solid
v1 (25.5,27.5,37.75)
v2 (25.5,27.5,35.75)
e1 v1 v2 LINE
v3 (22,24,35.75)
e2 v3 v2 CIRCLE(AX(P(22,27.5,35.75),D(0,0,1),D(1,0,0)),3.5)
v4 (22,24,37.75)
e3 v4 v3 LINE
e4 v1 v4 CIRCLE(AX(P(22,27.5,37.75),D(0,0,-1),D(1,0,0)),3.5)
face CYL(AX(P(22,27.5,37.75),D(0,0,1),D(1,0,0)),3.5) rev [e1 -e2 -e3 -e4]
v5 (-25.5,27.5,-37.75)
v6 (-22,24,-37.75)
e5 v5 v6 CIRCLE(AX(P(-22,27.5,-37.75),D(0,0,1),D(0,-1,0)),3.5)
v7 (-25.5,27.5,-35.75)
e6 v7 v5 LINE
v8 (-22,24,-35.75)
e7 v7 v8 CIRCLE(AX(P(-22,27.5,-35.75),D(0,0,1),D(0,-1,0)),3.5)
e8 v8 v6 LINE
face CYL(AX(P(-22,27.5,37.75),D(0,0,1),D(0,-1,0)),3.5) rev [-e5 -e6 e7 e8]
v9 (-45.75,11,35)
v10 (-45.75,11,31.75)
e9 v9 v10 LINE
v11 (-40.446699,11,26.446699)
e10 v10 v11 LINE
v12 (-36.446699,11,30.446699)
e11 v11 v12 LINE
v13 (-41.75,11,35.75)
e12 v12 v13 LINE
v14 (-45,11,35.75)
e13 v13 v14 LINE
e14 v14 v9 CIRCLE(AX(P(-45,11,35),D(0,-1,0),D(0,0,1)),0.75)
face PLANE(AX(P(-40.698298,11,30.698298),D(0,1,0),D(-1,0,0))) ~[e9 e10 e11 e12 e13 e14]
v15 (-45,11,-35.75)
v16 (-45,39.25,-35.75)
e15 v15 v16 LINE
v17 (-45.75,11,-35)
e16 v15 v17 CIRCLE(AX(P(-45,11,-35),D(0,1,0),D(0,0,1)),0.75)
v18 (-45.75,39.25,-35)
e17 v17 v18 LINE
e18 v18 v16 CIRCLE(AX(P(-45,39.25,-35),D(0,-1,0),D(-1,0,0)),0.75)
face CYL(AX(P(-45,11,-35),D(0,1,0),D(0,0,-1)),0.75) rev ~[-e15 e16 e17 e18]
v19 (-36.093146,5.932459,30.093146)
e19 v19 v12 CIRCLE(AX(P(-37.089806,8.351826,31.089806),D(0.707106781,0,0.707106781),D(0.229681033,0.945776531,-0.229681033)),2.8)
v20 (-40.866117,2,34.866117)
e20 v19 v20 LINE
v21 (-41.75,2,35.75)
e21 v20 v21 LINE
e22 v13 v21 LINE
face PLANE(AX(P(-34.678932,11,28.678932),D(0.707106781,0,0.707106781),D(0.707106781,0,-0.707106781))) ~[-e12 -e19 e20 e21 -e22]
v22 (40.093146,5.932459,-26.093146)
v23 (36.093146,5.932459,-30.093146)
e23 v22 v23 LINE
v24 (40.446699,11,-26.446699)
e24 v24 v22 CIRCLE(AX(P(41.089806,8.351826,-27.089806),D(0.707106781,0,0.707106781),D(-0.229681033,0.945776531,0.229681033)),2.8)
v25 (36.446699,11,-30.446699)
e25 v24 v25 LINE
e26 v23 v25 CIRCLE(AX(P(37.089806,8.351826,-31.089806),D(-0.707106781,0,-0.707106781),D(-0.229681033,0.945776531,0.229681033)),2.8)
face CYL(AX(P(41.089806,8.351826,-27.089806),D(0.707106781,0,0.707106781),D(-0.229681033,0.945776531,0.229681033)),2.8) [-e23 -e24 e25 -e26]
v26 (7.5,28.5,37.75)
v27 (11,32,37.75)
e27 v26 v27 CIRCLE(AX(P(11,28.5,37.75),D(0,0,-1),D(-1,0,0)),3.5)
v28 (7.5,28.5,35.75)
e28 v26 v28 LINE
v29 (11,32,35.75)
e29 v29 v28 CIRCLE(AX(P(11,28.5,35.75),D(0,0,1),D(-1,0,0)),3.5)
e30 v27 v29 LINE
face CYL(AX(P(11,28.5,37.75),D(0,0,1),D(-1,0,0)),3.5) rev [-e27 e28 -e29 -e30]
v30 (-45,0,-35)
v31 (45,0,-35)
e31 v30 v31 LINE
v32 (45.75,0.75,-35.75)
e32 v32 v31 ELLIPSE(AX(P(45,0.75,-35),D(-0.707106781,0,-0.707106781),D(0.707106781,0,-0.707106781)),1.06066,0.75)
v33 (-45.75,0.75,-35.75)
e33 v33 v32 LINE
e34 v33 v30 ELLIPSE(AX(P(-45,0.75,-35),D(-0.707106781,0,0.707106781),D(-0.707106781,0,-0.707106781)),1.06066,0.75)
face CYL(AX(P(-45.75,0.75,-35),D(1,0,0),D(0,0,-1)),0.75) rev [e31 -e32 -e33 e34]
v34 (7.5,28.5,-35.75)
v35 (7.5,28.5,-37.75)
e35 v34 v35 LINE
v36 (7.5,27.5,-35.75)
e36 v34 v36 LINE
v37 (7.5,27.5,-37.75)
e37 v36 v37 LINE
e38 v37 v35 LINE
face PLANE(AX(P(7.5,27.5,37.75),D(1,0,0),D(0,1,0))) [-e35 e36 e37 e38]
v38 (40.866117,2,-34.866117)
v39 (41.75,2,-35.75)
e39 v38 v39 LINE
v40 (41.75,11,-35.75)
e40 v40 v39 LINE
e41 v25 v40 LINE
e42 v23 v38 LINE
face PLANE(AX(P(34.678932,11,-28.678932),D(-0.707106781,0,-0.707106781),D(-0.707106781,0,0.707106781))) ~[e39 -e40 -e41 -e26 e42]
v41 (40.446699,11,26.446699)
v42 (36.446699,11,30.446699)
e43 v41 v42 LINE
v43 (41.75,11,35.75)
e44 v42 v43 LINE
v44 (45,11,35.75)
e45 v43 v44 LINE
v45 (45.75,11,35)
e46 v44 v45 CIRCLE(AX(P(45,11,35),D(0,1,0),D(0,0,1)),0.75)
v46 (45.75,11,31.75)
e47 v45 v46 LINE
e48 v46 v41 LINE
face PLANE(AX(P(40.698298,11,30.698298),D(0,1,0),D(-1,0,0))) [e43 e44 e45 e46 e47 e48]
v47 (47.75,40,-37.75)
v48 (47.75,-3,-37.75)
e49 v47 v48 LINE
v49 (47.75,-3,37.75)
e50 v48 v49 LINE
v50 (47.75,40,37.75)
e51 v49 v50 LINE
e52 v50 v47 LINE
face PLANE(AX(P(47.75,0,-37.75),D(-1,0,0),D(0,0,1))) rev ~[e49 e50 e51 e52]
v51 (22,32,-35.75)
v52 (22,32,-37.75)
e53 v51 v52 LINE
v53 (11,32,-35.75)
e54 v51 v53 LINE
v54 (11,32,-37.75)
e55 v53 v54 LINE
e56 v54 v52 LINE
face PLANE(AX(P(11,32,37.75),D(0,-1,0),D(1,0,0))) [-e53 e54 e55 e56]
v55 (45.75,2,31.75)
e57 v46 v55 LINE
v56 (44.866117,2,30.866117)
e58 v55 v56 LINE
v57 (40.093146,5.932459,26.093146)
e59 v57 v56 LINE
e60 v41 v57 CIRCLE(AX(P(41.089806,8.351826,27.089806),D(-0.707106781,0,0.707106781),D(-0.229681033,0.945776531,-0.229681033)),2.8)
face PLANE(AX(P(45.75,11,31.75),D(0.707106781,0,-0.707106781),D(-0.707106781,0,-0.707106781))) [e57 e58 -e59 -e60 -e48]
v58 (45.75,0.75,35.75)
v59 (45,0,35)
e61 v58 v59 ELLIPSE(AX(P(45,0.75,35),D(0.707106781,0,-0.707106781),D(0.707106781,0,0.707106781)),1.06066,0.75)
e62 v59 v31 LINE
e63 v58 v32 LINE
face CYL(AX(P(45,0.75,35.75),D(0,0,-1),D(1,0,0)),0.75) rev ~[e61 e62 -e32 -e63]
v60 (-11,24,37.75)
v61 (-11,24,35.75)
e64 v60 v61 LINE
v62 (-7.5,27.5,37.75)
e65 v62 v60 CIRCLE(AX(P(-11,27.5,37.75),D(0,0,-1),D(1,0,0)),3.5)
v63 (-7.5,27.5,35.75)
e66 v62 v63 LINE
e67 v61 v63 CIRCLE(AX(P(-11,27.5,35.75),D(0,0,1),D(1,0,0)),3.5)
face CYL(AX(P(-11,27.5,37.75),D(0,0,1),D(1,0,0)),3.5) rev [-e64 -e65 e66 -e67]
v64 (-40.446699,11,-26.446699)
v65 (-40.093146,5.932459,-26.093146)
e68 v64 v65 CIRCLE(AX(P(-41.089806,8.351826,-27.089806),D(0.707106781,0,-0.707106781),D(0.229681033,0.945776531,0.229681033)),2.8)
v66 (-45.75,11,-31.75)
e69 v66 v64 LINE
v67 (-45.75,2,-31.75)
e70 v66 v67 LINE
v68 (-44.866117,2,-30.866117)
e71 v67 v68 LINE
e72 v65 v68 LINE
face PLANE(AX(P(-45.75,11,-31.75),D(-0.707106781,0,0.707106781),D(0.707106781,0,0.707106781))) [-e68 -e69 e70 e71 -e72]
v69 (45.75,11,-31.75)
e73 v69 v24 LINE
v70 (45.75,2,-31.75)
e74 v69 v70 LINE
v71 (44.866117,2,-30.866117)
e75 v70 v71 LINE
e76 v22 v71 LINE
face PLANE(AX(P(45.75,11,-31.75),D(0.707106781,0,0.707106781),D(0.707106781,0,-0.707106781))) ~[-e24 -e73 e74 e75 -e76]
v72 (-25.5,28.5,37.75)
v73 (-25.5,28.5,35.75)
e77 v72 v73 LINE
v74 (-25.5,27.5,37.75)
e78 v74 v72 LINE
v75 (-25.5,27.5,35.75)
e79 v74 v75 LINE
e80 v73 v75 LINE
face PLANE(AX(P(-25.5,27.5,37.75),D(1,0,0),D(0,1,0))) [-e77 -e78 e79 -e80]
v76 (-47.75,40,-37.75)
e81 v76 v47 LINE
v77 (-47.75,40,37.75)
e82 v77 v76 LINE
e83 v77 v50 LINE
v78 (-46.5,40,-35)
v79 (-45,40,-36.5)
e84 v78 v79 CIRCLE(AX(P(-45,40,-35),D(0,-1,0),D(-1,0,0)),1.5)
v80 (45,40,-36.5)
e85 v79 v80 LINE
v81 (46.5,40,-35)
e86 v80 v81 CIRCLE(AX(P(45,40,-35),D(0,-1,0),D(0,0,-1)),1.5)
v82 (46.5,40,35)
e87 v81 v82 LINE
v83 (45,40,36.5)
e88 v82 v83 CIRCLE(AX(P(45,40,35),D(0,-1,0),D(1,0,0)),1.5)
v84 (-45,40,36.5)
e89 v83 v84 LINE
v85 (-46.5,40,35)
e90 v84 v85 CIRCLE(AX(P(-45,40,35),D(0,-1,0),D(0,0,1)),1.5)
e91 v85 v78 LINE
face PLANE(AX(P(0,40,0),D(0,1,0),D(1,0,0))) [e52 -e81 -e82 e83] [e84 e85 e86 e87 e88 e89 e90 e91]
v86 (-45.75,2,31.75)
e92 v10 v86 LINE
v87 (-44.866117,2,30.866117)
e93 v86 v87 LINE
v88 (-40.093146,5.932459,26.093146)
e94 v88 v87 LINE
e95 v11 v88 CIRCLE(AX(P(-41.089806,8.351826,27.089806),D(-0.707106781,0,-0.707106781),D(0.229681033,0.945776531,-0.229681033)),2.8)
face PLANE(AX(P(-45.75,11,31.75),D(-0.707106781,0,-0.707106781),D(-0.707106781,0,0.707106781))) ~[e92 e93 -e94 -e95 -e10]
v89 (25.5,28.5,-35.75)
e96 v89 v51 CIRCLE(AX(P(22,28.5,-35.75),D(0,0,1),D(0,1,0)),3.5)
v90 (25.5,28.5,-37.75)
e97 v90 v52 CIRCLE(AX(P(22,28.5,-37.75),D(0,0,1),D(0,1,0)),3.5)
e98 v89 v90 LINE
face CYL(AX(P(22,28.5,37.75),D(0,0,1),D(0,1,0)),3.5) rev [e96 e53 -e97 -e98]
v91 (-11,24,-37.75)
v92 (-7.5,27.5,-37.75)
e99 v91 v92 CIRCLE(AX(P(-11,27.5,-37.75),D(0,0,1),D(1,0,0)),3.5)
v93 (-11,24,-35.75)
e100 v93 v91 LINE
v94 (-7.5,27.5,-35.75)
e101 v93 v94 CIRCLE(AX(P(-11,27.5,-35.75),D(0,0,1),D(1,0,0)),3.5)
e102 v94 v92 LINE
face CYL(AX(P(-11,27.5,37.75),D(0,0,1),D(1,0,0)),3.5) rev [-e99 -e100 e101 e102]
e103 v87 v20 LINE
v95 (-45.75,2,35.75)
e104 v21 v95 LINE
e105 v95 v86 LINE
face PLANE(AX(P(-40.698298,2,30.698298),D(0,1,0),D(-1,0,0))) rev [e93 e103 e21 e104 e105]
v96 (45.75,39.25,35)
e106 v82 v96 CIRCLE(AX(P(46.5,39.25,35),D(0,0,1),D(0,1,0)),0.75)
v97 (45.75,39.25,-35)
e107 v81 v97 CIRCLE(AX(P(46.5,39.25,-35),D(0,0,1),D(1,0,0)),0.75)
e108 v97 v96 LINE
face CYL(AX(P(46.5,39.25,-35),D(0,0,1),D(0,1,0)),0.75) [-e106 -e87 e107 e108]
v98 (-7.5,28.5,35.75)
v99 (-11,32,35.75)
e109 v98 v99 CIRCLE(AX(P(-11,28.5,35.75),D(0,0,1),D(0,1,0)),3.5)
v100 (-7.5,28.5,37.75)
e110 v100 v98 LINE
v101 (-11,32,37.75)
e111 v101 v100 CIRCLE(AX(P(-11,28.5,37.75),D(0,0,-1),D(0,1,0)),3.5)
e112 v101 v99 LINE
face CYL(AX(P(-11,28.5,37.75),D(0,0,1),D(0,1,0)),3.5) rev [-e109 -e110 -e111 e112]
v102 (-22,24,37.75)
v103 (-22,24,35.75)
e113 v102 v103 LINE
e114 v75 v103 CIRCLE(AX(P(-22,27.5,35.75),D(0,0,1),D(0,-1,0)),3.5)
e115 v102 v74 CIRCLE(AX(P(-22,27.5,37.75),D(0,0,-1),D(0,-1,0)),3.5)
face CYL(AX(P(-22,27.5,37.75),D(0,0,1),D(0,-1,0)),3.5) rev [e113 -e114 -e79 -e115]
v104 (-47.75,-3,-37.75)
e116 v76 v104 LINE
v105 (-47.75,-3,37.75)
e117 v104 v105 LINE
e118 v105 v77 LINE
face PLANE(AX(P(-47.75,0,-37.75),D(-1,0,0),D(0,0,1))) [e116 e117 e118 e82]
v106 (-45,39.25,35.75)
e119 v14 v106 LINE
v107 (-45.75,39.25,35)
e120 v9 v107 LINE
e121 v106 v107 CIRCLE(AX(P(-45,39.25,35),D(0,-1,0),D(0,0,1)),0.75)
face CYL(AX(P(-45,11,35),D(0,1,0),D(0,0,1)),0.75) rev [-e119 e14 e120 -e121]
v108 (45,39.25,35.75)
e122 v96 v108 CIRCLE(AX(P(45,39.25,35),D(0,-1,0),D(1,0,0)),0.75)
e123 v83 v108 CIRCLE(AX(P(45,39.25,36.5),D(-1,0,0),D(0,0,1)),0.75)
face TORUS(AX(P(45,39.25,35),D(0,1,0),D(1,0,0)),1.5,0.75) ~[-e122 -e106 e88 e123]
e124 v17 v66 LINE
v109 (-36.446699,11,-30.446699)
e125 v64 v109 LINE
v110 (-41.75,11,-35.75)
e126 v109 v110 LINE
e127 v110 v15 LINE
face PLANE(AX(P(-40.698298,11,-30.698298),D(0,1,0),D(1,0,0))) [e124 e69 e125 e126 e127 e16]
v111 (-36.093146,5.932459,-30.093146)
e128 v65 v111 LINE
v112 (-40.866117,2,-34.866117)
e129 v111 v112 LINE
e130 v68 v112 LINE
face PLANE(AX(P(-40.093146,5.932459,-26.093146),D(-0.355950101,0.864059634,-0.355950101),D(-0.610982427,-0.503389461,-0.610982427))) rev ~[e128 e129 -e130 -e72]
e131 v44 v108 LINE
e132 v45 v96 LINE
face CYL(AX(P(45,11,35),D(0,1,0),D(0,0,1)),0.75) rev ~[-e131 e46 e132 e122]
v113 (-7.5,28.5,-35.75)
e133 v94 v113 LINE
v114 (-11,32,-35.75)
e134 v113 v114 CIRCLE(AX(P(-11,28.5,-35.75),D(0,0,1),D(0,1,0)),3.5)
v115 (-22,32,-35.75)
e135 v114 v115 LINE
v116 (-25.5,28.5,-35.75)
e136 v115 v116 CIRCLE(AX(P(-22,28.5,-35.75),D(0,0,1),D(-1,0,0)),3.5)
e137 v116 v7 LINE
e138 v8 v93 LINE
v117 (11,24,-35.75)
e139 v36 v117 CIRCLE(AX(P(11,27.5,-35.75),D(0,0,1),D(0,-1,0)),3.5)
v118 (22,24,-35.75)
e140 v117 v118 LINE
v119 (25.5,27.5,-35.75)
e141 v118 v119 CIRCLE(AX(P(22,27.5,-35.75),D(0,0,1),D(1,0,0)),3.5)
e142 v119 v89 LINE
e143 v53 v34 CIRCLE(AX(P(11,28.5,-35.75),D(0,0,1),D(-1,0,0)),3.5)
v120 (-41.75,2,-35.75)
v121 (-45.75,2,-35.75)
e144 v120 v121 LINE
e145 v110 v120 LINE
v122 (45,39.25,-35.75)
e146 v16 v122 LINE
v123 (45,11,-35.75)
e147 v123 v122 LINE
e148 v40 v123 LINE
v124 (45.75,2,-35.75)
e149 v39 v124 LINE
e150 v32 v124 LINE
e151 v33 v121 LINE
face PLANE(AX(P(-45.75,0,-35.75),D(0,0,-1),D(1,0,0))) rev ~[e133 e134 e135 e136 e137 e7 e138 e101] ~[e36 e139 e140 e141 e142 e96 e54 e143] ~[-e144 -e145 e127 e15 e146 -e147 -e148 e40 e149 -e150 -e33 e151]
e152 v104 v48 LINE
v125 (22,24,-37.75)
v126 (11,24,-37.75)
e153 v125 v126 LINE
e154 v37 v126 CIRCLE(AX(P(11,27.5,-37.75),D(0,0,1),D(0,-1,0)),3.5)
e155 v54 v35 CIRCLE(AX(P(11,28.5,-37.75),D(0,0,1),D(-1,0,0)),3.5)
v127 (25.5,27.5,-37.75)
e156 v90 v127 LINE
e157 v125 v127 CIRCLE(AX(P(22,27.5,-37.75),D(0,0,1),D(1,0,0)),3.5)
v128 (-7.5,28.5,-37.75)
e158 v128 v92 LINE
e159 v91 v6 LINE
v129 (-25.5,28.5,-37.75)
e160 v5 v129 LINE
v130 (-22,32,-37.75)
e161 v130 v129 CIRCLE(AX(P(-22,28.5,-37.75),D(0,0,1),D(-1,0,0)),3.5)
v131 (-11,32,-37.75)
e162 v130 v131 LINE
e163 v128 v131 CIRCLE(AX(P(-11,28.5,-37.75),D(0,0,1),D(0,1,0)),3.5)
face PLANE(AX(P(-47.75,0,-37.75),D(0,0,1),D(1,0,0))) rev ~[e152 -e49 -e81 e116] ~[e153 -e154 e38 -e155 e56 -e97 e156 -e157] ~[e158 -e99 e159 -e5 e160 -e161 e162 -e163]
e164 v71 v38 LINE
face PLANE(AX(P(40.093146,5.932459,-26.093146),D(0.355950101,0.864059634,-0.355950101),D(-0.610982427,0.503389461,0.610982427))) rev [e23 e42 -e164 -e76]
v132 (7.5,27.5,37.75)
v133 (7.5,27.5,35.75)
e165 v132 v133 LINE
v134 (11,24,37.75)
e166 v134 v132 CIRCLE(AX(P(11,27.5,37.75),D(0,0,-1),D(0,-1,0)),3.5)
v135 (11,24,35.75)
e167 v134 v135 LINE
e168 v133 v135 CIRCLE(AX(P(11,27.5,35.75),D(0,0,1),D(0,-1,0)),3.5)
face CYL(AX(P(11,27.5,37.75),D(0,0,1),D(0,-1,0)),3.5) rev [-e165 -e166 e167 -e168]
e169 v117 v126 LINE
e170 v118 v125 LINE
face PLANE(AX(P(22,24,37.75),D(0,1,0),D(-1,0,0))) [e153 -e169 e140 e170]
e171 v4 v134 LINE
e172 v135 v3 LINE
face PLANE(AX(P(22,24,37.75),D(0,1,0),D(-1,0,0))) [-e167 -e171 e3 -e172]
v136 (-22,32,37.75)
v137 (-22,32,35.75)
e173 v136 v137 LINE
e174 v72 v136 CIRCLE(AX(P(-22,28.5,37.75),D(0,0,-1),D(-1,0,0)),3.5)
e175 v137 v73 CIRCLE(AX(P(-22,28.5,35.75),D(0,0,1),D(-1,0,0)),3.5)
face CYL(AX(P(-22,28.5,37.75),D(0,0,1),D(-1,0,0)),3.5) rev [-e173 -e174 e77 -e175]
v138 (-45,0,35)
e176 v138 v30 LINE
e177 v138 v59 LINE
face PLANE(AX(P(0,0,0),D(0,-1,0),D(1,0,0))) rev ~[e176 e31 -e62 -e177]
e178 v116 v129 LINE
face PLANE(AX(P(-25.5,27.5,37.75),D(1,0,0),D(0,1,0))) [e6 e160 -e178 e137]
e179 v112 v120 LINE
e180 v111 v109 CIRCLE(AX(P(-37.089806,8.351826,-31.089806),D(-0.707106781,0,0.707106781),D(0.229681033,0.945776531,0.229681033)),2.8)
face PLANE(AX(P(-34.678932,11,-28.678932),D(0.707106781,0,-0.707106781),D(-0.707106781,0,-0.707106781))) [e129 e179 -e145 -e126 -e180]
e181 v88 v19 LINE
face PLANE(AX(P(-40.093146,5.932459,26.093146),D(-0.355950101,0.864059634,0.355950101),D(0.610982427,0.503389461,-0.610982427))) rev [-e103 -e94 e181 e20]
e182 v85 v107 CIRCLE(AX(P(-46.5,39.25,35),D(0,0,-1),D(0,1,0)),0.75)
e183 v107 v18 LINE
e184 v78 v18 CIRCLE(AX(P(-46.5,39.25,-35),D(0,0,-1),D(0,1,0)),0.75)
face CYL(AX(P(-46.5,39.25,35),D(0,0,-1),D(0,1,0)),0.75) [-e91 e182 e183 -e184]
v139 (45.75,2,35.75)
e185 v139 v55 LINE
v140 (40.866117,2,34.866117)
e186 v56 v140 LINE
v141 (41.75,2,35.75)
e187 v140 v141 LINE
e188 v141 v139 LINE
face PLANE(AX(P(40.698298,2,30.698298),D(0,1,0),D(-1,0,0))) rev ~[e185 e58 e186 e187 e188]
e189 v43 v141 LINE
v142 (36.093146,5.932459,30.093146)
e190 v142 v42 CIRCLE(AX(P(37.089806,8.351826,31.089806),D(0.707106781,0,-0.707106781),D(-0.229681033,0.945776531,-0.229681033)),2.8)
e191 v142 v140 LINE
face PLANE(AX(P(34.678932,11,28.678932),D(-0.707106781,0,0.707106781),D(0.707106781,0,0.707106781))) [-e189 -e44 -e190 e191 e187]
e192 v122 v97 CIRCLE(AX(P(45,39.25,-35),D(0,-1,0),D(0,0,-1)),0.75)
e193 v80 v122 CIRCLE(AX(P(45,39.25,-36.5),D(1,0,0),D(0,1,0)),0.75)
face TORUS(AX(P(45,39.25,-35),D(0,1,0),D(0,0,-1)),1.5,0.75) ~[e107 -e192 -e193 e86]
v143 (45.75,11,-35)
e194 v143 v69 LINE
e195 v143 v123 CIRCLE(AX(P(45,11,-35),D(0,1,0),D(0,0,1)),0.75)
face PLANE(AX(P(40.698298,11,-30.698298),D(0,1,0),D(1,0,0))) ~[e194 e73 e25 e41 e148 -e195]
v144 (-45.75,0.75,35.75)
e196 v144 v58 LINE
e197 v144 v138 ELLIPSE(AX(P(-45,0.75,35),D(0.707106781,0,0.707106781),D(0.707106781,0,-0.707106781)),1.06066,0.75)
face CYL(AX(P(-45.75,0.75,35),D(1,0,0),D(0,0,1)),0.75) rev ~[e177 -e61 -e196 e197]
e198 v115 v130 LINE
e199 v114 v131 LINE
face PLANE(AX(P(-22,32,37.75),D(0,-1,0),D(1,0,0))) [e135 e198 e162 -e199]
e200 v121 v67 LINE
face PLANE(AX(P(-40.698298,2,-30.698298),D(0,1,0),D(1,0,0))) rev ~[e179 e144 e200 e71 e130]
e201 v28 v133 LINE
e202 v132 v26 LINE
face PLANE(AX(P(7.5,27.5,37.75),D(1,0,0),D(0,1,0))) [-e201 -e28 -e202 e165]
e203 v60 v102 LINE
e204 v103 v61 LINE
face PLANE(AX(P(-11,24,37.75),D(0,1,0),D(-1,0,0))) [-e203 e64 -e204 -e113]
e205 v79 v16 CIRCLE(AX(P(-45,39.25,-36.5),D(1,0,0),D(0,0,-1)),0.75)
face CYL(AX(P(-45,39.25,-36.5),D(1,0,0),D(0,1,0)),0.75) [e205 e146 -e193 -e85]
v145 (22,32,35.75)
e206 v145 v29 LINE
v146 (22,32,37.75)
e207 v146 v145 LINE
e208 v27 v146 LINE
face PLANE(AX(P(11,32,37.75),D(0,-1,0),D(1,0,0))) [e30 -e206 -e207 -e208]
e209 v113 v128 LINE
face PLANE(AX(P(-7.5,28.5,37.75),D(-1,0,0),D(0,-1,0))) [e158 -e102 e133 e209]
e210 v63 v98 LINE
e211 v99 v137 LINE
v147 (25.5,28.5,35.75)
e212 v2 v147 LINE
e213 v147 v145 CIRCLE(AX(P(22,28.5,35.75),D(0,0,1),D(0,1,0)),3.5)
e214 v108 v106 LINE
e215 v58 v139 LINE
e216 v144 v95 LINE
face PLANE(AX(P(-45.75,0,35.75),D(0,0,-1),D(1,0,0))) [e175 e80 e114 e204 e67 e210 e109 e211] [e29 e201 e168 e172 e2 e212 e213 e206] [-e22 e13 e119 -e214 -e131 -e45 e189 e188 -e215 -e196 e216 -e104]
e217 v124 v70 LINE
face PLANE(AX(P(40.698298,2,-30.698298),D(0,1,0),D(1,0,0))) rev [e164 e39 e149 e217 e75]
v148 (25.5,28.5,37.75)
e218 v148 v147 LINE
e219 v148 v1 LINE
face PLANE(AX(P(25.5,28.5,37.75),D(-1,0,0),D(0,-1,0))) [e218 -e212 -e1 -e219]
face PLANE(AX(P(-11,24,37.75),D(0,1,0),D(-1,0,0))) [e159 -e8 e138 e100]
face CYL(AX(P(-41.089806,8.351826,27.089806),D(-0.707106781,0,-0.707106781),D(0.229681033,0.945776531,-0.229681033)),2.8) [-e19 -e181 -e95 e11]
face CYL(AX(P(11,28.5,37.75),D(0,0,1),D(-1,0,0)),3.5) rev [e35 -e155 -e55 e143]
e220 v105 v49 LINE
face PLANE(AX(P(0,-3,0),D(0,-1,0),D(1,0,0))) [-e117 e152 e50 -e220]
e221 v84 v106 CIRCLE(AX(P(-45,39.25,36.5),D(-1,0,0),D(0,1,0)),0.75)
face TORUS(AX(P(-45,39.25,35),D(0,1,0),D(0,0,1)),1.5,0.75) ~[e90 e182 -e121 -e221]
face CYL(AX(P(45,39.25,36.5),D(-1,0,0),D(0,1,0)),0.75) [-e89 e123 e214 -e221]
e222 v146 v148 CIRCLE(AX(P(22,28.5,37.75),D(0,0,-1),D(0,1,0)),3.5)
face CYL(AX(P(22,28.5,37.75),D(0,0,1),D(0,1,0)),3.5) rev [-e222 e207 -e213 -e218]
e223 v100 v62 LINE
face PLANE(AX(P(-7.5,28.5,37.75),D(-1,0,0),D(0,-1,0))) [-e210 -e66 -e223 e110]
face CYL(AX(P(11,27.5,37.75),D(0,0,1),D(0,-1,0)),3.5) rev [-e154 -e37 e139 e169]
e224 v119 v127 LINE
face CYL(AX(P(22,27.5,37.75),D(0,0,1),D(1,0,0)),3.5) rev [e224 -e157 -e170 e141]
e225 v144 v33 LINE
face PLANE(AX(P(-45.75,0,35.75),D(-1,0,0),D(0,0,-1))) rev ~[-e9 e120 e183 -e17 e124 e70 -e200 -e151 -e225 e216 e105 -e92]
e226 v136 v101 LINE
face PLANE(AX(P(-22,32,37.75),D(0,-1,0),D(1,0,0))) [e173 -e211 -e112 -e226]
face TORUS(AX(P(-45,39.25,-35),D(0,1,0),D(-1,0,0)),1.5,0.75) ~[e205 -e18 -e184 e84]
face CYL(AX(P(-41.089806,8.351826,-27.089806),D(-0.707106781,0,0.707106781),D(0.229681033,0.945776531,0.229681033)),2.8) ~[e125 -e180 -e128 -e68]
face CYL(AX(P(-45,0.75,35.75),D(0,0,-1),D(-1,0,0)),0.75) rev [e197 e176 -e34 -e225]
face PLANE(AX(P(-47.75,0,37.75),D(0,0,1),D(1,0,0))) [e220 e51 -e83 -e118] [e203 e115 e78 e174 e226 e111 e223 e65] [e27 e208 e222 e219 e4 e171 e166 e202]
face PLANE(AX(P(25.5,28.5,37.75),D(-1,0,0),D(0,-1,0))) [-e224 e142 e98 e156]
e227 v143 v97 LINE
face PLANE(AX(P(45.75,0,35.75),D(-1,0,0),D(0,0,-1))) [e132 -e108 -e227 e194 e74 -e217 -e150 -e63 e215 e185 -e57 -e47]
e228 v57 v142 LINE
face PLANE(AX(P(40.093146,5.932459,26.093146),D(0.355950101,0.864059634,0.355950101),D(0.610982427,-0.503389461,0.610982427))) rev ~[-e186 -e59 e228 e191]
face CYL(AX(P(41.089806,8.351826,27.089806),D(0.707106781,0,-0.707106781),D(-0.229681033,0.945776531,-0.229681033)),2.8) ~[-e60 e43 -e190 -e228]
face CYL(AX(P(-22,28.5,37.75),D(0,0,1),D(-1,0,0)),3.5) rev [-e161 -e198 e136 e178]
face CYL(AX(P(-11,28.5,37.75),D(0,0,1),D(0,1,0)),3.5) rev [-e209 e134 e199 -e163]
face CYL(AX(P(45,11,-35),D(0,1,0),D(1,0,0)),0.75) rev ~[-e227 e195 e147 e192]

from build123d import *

# Parameters (mm, degrees)
SKETCH1_W            = 95.5
SKETCH1_H            = 75.5
SKETCH1_W_2          = 91.5
SKETCH1_H_2          = 71.5
EXTRUDE_THIN1_DEPTH  = 40
SKETCH2_W            = 95.5
SKETCH2_H            = 75.5
BOSS_EXTRUDE1_DEPTH  = 3
CUT_EXTRUDE1_DEPTH   = 98.879070797
BOSS_EXTRUDE3_START  = 11
BOSS_EXTRUDE3_DEPTH  = 9
CUT_EXTRUDE2_REACH   = 83.241
MIRROR2_START        = 11
MIRROR2_COPY_1_DEPTH = 9
MIRROR2_COPY_2_REACH = 83.241
FILLET3_R            = 0.75
FILLET4_R            = 0.75


with BuildPart() as part:
    # Sketch1 → Extrude-Thin1 (new body)
    with BuildSketch(Plane(origin=(0, 0, 0), x_dir=(1, 0, 0), z_dir=(0, 1, 0))):
        Rectangle(SKETCH1_W, SKETCH1_H)
        Rectangle(SKETCH1_W_2, SKETCH1_H_2, mode=Mode.SUBTRACT)
    extrude(amount=EXTRUDE_THIN1_DEPTH)

    # Sketch2 → Boss-Extrude1 (add)
    with BuildSketch(Plane.XZ):
        Rectangle(SKETCH2_W, SKETCH2_H)
    extrude(amount=BOSS_EXTRUDE1_DEPTH)

    # Sketch4 → Cut-Extrude1 (cut, through all)
    with BuildSketch(Plane.XY.offset(37.75)):
        with BuildLine():
            Line((-22, 32), (-11, 32))
            ThreePointArc((-11, 32), (-8.525126266, 30.974873734), (-7.5, 28.5))
            Line((-7.5, 28.5), (-7.5, 27.5))
            ThreePointArc((-7.5, 27.5), (-8.525126266, 25.025126266), (-11, 24))
            Line((-11, 24), (-22, 24))
            ThreePointArc((-22, 24), (-24.474873734, 25.025126266), (-25.5, 27.5))
            Line((-25.5, 27.5), (-25.5, 28.5))
            ThreePointArc((-25.5, 28.5), (-24.474873734, 30.974873734), (-22, 32))
        make_face()
        with BuildLine():
            Line((11, 32), (22, 32))
            ThreePointArc((22, 32), (24.474873734, 30.974873734), (25.5, 28.5))
            Line((25.5, 28.5), (25.5, 27.5))
            ThreePointArc((25.5, 27.5), (24.474873734, 25.025126266), (22, 24))
            Line((22, 24), (11, 24))
            ThreePointArc((11, 24), (8.525126266, 25.025126266), (7.5, 27.5))
            Line((7.5, 27.5), (7.5, 28.5))
            ThreePointArc((7.5, 28.5), (8.525126266, 30.974873734), (11, 32))
        make_face()
    extrude(amount=-CUT_EXTRUDE1_DEPTH, mode=Mode.SUBTRACT)

    # Sketch7 → Boss-Extrude3 (add)
    with BuildSketch(Plane(origin=(0, 0, 0), x_dir=(1, 0, 0), z_dir=(0, 1, 0)).offset(BOSS_EXTRUDE3_START)):
        Polygon((-45.75, 35.75), (-45.75, 31.75), (-38.678932188, 24.678932188), (-34.678932188, 28.678932188), (-41.75, 35.75), align=None)
    boss_extrude3 = extrude(amount=-BOSS_EXTRUDE3_DEPTH)

    # Sketch8 → Cut-Extrude2 (cut, up to next)
    with BuildSketch(Plane(origin=(-7, 0, 7), x_dir=(0.7071067811865489, 0, 0.7071067811865461), z_dir=(-0.7071067811865461, 0, 0.7071067811865489)), mode=Mode.PRIVATE) as cut_extrude2_sk1:
        with BuildLine():
            ThreePointArc((-47.300775542, 11), (-45.423796616, 8.62675879), (-46.800775542, 5.932458739))
            Line((-46.800775542, 5.932458739), (-53.550775542, 2))
            Line((-53.550775542, 2), (-44.800775542, 2))
            Line((-44.800775542, 2), (-44.800775542, 11))
            Line((-44.800775542, 11), (-47.300775542, 11))
        make_face()
    cut_extrude2_tool1 = extrude(cut_extrude2_sk1.sketch, amount=-CUT_EXTRUDE2_REACH, mode=Mode.PRIVATE) & part.part
    cut_extrude2 = cut_extrude2_tool1.solids().sort_by_distance((-40.481625, 4.582192, -26.481625))[0]
    add(cut_extrude2, mode=Mode.SUBTRACT)

    # Mirror1: Boss-Extrude3, Cut-Extrude2 across plane
    add(boss_extrude3.mirror(Plane.XY))
    add(cut_extrude2.mirror(Plane.XY), mode=Mode.SUBTRACT)

    # Mirror2: Boss-Extrude3, Cut-Extrude2 across plane
    add(boss_extrude3.mirror(Plane(origin=(0, 0, 0), x_dir=(0, 0, 1), z_dir=(1, 0, 0))))
    add(cut_extrude2.mirror(Plane(origin=(0, 0, 0), x_dir=(0, 0, 1), z_dir=(1, 0, 0))), mode=Mode.SUBTRACT)

    # Mirror2 copy 1 sketch → Mirror2 copy 1 (add)
    with BuildSketch(Plane(origin=(0, 0, 0), x_dir=(-1, 0, 0), z_dir=(0, 1, 0)).offset(MIRROR2_START)):
        Polygon((-45.75, 35.75), (-45.75, 31.75), (-38.678932188, 24.678932188), (-34.678932188, 28.678932188), (-41.75, 35.75), align=None)
    extrude(amount=-MIRROR2_COPY_1_DEPTH)

    # Mirror2 copy 2 sketch → Mirror2 copy 2 (cut, up to next)
    with BuildSketch(Plane(origin=(7, 0, -7), x_dir=(-0.7071067811865489, 0, -0.7071067811865461), z_dir=(0.7071067811865461, 0, -0.7071067811865489)), mode=Mode.PRIVATE) as mirror2_copy_2_sk1:
        with BuildLine():
            ThreePointArc((-47.300775542, 11), (-45.423796616, 8.62675879), (-46.800775542, 5.932458739))
            Line((-46.800775542, 5.932458739), (-53.550775542, 2))
            Line((-53.550775542, 2), (-44.800775542, 2))
            Line((-44.800775542, 2), (-44.800775542, 11))
            Line((-44.800775542, 11), (-47.300775542, 11))
        make_face()
    mirror2_copy_2_tool1 = extrude(mirror2_copy_2_sk1.sketch, amount=-MIRROR2_COPY_2_REACH, mode=Mode.PRIVATE) & part.part
    add(mirror2_copy_2_tool1.solids().sort_by_distance((40.481625, 4.582192, 26.481625))[0], mode=Mode.SUBTRACT)

    # Fillet3
    fillet3_edges = [part.edges().sort_by_distance(p)[0] for p in [
        (-45.75, 0, 0),
        (0, 0, 35.75),
        (45.75, 0, 0),
        (0, 0, -35.75),
        (45.75, 25.5, 35.75),
        (45.75, 25.5, -35.75),
        (-45.75, 25.5, -35.75),
        (-45.75, 25.5, 35.75),
    ]]
    fillet(fillet3_edges, radius=FILLET3_R)

    # Fillet4
    fillet4_edges = [part.edges().sort_by_distance(p)[0] for p in [
        (-45.75, 40, 0),
        (0, 40, 35.75),
        (45.75, 40, 0),
        (0, 40, -35.75),
        (45.530330086, 40, 35.530330086),
        (45.530330086, 40, -35.530330086),
        (-45.530330086, 40, -35.530330086),
        (-45.530330086, 40, 35.530330086),
    ]]
    fillet(fillet4_edges, radius=FILLET4_R)


solid = part.part
